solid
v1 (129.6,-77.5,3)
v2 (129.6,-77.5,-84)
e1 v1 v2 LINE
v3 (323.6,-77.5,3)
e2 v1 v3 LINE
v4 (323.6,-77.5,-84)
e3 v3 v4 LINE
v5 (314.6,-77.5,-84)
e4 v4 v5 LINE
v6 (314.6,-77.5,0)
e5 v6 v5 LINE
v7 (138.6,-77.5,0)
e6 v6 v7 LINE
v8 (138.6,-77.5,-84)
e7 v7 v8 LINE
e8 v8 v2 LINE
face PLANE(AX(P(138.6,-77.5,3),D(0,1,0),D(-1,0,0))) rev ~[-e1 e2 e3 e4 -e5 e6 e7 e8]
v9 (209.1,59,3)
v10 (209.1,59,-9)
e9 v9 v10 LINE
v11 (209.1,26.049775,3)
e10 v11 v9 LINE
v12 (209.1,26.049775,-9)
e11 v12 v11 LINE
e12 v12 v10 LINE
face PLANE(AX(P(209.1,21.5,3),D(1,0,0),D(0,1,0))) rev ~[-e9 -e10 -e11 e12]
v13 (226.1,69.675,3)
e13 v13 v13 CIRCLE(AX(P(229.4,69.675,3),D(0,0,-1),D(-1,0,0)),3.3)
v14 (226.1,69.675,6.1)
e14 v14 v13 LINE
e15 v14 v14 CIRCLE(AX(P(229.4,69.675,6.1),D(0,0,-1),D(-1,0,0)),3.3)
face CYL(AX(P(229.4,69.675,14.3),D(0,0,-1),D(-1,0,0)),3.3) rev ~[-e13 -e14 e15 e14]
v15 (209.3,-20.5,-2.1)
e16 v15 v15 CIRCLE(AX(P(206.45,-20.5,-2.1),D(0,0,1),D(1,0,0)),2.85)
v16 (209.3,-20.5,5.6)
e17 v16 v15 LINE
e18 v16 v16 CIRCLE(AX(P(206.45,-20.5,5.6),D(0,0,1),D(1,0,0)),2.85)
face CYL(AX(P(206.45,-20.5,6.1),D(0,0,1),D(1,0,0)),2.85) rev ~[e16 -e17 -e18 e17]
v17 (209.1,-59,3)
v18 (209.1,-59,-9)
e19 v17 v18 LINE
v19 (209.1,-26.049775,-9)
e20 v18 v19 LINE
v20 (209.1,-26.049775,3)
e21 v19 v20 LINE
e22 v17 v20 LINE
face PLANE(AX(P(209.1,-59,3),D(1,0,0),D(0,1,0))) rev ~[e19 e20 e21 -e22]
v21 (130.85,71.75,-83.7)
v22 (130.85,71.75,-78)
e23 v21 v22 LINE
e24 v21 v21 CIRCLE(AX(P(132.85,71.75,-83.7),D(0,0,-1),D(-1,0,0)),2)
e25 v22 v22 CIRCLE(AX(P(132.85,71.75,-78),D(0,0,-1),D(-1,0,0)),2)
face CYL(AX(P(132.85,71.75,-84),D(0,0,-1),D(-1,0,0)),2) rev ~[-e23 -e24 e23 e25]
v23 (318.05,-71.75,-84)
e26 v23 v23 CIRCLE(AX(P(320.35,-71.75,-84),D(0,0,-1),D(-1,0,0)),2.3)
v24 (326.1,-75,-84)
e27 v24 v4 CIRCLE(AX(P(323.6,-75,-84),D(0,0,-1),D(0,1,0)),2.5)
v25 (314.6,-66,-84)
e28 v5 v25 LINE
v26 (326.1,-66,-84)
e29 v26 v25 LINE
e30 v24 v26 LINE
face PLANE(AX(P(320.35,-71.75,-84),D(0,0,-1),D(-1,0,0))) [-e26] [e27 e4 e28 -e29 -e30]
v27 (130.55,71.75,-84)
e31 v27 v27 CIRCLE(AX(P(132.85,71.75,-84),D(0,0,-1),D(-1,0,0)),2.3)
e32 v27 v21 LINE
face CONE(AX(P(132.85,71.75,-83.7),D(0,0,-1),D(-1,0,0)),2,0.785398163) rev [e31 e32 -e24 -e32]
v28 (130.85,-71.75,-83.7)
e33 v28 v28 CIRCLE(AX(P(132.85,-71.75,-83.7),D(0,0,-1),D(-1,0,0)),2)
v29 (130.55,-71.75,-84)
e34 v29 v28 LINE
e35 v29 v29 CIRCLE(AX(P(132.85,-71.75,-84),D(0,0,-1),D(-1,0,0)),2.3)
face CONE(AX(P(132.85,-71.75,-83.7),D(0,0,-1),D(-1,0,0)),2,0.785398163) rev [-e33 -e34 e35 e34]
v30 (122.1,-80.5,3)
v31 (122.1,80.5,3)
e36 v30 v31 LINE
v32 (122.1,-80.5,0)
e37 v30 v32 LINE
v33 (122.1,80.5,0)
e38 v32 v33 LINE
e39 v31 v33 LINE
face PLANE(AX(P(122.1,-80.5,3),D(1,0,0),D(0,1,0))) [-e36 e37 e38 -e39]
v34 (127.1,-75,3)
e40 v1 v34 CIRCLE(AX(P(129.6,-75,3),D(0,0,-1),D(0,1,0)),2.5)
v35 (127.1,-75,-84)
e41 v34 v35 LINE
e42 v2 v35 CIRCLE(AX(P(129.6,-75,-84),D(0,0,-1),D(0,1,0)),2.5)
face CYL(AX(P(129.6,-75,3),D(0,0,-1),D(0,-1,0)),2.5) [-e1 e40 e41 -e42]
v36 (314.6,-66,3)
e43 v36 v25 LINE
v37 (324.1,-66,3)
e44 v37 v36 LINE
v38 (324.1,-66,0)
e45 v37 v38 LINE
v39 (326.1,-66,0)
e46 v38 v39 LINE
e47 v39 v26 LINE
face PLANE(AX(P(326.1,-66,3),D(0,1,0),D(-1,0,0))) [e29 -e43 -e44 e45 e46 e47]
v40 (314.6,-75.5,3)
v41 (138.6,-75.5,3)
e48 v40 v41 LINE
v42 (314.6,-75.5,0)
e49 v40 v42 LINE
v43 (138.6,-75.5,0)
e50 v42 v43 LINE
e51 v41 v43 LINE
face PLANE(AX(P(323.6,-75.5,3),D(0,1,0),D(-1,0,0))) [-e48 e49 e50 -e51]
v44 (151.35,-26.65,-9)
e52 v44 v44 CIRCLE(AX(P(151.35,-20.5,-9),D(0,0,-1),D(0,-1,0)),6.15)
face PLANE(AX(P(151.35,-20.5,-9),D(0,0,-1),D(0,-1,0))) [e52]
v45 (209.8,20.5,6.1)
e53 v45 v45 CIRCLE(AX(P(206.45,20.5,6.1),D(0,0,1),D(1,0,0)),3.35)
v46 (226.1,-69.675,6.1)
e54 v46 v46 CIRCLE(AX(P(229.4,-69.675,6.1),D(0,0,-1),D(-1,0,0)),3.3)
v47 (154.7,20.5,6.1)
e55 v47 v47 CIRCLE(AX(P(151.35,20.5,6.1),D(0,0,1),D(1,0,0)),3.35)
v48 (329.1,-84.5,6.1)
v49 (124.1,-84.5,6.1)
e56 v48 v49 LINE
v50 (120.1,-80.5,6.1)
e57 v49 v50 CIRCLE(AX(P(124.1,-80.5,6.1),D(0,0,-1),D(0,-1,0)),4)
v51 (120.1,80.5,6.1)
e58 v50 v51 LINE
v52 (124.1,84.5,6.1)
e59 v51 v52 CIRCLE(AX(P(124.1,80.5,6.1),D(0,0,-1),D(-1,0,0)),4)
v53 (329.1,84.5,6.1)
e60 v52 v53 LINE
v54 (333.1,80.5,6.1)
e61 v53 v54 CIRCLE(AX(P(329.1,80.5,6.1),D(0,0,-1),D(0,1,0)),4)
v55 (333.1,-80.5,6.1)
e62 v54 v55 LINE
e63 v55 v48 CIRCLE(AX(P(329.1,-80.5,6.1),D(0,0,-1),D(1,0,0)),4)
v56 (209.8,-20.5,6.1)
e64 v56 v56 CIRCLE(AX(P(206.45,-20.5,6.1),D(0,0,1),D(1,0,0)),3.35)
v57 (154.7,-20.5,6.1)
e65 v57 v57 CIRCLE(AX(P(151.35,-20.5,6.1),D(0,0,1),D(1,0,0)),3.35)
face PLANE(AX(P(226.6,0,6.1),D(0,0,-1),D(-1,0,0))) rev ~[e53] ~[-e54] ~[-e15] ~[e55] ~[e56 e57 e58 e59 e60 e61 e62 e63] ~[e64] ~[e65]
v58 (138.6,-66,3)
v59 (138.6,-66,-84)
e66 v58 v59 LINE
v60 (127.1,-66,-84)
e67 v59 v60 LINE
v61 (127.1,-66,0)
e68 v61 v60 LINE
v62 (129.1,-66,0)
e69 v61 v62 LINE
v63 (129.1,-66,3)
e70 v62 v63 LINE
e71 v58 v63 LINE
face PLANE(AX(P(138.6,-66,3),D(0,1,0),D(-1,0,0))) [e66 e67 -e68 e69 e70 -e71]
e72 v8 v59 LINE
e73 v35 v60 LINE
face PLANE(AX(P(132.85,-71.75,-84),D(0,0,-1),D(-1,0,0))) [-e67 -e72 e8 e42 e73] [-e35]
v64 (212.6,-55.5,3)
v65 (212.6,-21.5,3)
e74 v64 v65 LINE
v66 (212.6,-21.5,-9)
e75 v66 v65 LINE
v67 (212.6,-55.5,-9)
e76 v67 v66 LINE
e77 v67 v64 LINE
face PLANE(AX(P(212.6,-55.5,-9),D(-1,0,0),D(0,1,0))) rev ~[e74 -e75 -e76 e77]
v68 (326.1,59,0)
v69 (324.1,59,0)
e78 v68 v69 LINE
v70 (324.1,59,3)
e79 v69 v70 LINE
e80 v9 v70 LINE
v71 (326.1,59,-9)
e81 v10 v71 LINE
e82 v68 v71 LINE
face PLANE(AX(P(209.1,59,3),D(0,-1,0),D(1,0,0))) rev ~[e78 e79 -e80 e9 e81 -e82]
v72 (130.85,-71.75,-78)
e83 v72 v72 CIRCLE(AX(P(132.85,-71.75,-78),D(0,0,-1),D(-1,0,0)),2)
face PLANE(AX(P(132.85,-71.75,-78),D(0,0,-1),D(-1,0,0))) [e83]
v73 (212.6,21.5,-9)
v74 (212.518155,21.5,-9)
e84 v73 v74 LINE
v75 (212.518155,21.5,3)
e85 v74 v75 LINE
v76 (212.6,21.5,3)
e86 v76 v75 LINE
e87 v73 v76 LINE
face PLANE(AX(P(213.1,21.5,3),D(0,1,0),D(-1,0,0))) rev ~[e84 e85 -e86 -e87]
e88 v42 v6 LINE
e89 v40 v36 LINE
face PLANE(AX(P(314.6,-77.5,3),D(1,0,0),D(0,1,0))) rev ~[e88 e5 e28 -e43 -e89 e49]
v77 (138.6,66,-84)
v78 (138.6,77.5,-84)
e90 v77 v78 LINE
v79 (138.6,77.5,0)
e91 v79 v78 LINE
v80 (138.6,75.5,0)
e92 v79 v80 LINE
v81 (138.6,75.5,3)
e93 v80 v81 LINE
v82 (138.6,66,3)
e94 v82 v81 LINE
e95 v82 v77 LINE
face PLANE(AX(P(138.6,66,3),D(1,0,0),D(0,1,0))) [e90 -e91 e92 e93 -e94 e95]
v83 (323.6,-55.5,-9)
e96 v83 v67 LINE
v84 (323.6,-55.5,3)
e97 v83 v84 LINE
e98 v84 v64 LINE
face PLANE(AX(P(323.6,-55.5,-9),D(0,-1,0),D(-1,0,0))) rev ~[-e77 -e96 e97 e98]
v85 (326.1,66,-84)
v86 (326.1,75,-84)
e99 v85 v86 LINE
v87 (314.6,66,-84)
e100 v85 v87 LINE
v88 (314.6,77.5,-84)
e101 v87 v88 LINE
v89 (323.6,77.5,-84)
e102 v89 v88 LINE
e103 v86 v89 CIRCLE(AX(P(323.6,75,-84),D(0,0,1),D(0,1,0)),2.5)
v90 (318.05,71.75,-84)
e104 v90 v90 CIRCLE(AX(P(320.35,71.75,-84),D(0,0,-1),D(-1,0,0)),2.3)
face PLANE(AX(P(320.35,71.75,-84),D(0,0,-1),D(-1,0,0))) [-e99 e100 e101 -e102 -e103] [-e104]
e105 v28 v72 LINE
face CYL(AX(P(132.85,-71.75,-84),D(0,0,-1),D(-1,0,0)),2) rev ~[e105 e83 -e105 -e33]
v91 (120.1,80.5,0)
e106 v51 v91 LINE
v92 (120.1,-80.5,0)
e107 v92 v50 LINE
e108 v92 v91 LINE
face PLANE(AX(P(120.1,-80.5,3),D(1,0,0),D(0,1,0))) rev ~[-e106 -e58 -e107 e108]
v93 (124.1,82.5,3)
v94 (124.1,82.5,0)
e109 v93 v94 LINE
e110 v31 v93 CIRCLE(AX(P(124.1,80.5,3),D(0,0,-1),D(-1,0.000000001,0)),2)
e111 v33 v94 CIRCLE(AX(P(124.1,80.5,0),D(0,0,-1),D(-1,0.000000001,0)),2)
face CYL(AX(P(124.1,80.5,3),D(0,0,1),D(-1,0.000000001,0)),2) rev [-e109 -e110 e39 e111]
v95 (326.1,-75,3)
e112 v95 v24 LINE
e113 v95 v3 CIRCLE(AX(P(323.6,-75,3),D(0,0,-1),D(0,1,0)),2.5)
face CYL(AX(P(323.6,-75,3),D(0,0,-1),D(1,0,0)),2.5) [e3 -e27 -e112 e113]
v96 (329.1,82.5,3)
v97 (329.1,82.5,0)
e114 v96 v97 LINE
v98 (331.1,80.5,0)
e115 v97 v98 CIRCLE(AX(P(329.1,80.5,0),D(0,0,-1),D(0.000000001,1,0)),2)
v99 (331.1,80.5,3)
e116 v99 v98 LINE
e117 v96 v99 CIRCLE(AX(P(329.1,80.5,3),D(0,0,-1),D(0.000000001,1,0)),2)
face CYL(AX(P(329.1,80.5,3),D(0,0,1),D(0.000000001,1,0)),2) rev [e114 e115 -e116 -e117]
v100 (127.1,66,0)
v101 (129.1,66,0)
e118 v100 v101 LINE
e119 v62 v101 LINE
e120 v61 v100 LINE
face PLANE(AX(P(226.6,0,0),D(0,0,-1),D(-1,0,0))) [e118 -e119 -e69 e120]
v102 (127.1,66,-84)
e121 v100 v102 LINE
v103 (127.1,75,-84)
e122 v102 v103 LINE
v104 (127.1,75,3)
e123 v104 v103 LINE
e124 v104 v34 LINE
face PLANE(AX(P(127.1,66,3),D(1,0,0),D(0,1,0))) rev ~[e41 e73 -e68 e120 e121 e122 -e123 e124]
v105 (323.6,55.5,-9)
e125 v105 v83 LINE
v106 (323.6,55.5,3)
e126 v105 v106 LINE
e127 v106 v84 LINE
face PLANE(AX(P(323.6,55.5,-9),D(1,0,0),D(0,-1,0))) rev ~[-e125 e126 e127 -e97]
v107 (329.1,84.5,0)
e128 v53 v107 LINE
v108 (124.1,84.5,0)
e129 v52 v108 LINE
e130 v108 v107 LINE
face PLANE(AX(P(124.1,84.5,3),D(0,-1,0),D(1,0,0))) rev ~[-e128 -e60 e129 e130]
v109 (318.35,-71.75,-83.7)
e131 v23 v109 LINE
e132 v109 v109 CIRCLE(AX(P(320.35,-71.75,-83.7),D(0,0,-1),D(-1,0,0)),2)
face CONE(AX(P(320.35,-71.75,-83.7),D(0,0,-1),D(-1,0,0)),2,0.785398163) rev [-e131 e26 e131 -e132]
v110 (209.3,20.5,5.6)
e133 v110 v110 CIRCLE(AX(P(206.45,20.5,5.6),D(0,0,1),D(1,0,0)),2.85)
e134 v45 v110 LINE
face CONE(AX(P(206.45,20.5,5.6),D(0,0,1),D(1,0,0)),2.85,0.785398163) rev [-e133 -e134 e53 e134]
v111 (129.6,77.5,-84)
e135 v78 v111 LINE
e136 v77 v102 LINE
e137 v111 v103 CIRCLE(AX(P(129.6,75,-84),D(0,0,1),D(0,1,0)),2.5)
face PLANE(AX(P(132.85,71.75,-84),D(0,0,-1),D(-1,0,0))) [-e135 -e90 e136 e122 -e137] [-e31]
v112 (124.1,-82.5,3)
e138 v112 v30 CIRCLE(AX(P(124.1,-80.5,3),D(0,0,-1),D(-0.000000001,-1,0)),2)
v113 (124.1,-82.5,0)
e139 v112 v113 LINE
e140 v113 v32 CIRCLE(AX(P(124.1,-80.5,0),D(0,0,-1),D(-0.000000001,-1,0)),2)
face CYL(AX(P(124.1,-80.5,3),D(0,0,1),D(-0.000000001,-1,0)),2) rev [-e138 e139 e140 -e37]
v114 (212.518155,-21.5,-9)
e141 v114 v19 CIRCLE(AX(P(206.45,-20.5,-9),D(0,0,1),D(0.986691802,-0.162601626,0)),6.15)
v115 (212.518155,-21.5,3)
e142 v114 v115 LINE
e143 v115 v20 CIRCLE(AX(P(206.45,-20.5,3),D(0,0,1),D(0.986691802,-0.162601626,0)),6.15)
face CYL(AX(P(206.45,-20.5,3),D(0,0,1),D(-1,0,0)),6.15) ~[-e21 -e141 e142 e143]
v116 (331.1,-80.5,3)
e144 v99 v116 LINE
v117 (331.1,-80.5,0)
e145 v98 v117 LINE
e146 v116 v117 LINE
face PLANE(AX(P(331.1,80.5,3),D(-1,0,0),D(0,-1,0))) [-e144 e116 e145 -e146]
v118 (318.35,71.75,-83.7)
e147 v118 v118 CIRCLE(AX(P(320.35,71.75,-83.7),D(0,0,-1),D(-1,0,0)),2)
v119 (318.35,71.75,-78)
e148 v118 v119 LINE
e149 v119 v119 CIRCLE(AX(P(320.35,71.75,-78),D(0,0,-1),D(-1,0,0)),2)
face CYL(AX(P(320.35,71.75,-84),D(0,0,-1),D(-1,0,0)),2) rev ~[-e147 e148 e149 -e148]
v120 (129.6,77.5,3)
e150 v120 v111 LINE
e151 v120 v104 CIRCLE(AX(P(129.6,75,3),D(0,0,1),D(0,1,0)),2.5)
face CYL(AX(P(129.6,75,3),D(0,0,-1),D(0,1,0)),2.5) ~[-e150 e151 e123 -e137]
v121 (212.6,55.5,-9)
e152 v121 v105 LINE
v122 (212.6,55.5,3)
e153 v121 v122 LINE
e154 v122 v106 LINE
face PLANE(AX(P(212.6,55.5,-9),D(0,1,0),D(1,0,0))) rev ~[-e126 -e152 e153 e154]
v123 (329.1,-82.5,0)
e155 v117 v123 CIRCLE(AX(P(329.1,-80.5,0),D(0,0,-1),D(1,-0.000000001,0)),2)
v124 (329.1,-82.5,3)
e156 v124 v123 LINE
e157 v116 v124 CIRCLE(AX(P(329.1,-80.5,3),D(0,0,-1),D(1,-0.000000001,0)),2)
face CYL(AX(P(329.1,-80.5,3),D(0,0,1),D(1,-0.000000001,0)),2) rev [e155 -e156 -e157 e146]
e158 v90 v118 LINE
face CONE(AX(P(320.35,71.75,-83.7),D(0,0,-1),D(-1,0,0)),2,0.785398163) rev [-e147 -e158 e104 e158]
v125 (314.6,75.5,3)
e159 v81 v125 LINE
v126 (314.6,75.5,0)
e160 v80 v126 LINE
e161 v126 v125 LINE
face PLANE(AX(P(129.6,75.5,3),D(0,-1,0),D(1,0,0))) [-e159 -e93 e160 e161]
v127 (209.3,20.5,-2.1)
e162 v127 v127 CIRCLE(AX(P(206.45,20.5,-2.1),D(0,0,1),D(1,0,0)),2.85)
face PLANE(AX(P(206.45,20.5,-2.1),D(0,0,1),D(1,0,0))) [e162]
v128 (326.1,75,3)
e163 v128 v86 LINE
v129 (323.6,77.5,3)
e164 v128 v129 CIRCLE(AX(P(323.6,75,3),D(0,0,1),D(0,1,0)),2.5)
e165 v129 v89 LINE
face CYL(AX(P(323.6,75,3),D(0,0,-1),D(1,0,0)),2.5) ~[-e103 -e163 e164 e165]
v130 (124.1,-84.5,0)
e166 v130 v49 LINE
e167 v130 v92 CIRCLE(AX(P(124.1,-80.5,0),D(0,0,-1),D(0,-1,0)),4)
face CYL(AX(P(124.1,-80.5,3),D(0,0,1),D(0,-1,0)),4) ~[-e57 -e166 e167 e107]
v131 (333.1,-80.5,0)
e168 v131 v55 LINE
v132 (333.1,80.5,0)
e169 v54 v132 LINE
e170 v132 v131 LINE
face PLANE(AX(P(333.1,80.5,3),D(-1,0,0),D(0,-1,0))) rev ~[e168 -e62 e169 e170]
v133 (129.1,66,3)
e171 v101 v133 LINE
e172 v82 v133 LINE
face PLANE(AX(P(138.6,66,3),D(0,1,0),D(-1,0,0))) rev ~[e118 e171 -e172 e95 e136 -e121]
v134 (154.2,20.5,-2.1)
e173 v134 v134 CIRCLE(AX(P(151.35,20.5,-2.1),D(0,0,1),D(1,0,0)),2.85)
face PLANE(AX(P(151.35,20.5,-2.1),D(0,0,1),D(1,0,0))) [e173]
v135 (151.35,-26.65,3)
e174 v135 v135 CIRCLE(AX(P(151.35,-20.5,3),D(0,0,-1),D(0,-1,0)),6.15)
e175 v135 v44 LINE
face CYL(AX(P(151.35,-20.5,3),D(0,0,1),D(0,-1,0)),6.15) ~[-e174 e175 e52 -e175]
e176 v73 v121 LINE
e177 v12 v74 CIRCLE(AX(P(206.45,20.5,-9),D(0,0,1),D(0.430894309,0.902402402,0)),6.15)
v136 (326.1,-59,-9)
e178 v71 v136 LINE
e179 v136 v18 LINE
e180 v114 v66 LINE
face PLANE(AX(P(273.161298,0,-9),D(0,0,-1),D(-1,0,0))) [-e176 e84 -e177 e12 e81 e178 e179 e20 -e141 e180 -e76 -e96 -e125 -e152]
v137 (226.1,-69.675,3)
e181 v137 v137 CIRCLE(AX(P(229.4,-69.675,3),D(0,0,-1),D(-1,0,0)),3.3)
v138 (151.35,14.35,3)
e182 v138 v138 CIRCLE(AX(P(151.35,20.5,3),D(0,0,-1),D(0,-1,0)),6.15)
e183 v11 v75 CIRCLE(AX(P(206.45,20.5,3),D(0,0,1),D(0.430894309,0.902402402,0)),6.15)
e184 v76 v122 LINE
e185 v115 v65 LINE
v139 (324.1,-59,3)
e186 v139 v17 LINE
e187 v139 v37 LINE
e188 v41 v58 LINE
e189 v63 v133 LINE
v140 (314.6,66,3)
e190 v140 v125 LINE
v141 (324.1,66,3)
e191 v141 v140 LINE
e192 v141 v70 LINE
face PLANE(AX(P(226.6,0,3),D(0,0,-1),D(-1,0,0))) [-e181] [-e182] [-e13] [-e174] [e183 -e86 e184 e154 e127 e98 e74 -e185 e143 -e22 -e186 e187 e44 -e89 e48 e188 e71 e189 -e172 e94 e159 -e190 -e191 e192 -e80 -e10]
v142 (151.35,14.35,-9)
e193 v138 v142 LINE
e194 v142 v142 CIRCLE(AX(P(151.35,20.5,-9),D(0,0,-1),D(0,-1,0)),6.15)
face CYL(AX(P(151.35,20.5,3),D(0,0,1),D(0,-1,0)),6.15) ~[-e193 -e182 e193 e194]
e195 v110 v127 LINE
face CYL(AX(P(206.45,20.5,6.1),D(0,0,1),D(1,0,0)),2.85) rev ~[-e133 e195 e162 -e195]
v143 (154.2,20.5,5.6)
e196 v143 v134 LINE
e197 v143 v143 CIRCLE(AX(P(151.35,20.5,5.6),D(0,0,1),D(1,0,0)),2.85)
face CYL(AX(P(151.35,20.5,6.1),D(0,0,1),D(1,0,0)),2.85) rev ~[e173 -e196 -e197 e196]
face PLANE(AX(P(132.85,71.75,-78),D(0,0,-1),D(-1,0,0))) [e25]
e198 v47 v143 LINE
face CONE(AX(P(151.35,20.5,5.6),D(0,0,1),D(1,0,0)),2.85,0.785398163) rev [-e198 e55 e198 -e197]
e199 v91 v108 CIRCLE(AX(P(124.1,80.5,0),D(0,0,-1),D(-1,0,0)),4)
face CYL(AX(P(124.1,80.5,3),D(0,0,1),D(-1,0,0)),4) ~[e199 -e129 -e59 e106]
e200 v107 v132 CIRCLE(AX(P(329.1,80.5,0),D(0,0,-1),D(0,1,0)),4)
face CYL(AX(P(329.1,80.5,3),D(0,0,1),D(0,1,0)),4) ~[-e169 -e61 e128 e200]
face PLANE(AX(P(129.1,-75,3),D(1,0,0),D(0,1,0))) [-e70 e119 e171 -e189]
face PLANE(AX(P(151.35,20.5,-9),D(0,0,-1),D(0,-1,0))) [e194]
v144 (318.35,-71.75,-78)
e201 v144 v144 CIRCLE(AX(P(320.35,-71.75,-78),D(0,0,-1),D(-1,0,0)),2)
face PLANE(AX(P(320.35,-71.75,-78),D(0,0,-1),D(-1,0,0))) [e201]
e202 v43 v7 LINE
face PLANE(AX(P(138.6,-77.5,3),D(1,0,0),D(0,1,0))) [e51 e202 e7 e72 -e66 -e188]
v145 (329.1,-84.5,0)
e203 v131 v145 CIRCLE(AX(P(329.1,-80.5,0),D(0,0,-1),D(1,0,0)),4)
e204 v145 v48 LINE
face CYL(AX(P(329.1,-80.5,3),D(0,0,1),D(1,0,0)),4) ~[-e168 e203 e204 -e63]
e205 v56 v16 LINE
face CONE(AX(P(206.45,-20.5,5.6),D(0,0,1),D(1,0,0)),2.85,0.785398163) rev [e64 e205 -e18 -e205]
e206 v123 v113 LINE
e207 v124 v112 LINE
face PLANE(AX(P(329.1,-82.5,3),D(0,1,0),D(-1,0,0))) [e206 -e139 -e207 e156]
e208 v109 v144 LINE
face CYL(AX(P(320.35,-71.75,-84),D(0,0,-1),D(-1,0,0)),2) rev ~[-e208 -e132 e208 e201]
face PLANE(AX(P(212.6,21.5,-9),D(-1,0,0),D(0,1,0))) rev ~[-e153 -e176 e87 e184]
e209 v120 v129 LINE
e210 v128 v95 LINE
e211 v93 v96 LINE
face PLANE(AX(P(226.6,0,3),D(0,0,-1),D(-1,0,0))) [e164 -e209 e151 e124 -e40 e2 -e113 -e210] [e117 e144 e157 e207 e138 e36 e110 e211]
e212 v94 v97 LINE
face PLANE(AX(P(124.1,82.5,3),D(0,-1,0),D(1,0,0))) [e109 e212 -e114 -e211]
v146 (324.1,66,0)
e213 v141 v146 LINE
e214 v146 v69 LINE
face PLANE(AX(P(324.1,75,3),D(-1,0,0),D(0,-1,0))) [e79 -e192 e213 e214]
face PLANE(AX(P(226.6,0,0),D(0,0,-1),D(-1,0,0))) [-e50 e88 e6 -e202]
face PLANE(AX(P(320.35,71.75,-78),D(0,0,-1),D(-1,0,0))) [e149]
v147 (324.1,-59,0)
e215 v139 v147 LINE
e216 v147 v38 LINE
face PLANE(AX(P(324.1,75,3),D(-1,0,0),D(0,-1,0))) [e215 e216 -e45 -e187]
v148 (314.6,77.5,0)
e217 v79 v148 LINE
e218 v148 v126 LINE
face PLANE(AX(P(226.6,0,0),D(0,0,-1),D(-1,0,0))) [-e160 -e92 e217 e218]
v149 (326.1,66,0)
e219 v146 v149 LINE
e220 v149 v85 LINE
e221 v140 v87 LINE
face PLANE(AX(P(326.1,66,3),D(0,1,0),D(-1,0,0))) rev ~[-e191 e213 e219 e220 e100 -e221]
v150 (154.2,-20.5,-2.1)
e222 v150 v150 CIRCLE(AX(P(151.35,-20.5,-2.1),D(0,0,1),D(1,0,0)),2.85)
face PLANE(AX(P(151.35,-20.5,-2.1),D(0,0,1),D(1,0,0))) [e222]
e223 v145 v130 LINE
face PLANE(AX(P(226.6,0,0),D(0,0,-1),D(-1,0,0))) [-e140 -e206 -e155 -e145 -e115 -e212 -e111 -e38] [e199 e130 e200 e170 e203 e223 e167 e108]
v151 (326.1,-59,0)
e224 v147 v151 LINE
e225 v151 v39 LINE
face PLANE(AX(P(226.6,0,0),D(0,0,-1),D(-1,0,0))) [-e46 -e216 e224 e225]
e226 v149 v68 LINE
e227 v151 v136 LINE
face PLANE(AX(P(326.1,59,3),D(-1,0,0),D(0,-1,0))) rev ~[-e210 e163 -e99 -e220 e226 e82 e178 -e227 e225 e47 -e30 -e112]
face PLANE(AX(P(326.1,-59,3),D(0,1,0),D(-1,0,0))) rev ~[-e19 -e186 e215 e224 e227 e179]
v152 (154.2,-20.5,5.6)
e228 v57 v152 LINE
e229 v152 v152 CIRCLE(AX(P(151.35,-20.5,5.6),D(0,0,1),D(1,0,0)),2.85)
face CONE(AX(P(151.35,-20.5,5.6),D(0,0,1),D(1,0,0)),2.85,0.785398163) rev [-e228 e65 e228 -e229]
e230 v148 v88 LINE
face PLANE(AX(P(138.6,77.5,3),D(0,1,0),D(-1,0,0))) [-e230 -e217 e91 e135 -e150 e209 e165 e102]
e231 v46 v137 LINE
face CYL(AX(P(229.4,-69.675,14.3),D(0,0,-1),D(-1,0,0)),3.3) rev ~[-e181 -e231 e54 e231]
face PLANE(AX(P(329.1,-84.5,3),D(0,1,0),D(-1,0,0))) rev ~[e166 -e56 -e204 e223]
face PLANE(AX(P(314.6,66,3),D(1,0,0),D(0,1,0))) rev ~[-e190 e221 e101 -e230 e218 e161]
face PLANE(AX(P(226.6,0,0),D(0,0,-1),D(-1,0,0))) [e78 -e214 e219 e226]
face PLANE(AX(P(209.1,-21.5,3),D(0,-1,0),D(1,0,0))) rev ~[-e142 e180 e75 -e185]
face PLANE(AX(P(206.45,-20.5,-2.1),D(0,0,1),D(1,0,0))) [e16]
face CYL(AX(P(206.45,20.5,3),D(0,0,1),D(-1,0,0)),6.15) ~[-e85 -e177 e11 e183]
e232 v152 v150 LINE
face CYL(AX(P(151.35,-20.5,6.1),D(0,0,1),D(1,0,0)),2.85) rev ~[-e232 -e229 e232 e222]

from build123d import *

# Parameters (mm, degrees)
SALIENTE_EXTRUIR1_DEPTH          = 3.1
SALIENTE_EXTRUIR2_DEPTH          = 3
SALIENTE_EXTRUIR3_DEPTH          = 3
TALADRO_DE_MARGEN_PARA_M41_D     = 4.5
TALADRO_DE_MARGEN_PARA_M41_DEPTH = 8.2
TALADRO_DE_MARGEN_PARA_M41_TIP   = 1.351936393
CROQUIS10_W                      = 11.5
CROQUIS10_H                      = 11.5
SALIENTE_EXTRUIR4_DEPTH          = 87
SALIENTE_EXTRUIR5_DEPTH          = 12
CROQUIS14_R                      = 2
CORTAR_EXTRUIR1_DEPTH            = 6
CHAFL_N1_SIZE                    = 0.3
TALADRO_DE_MARGEN_PARA_M61_D     = 6.6
TALADRO_DE_MARGEN_PARA_M61_DEPTH = 8.2
TALADRO_DE_MARGEN_PARA_M61_TIP   = 1.982840043
CORTAR_EXTRUIR3_DEPTH            = 12
REDONDEO1_R                      = 2.5
CROQUIS19_R                      = 6.15
SALIENTE_EXTRUIR6_DEPTH          = 12
CROQUIS20_R                      = 2.85
CORTAR_EXTRUIR4_DEPTH            = 8.2
CHAFL_N2_SIZE                    = 0.5


with BuildPart() as part:
    # Croquis4 → Saliente-Extruir1 (new body)
    with BuildSketch(Plane(origin=(0, 0, 6.1), x_dir=(-1, 0, 0), z_dir=(0, 0, -1))):
        with BuildLine():
            Line((-120.1, -80.5), (-120.1, 80.5))
            ThreePointArc((-120.1, 80.5), (-121.271572875, 83.328427125), (-124.1, 84.5))
            Line((-124.1, 84.5), (-329.1, 84.5))
            ThreePointArc((-329.1, 84.5), (-331.928427125, 83.328427125), (-333.1, 80.5))
            Line((-333.1, 80.5), (-333.1, -80.5))
            ThreePointArc((-333.1, -80.5), (-331.928427125, -83.328427125), (-329.1, -84.5))
            Line((-329.1, -84.5), (-124.1, -84.5))
            ThreePointArc((-124.1, -84.5), (-121.271572875, -83.328427125), (-120.1, -80.5))
        make_face()
    extrude(amount=SALIENTE_EXTRUIR1_DEPTH)



with BuildPart() as body_2:
    # Croquis5 → Saliente-Extruir2 (new body)
    with BuildSketch(Plane(origin=(0, 0, 3), x_dir=(-1, 0, 0), z_dir=(0, 0, -1))):
        with BuildLine():
            Line((-326.1, 59), (-326.1, -59))
            Line((-326.1, -59), (-326.1, -75))
            ThreePointArc((-326.1, -75), (-325.367766953, -76.767766953), (-323.6, -77.5))
            Line((-323.6, -77.5), (-129.6, -77.5))
            ThreePointArc((-129.6, -77.5), (-127.832233047, -76.767766953), (-127.1, -75))
            Line((-127.1, -75), (-127.1, 75))
            ThreePointArc((-127.1, 75), (-127.832233047, 76.767766953), (-129.6, 77.5))
            Line((-129.6, 77.5), (-323.6, 77.5))
            ThreePointArc((-323.6, 77.5), (-325.367766953, 76.767766953), (-326.1, 75))
            Line((-326.1, 75), (-326.1, 59))
        make_face()
        with BuildLine():
            Line((-324.1, 59), (-324.1, -59))
            Line((-324.1, -59), (-324.1, -75))
            ThreePointArc((-324.1, -75), (-323.953553391, -75.353553391), (-323.6, -75.5))
            Line((-323.6, -75.5), (-129.6, -75.5))
            ThreePointArc((-129.6, -75.5), (-129.246446609, -75.353553391), (-129.1, -75))
            Line((-129.1, -75), (-129.1, 75))
            ThreePointArc((-129.1, 75), (-129.246446609, 75.353553391), (-129.6, 75.5))
            Line((-129.6, 75.5), (-323.6, 75.5))
            ThreePointArc((-323.6, 75.5), (-323.953553391, 75.353553391), (-324.1, 75))
            Line((-324.1, 75), (-324.1, 59))
        make_face(mode=Mode.SUBTRACT)
    extrude(amount=SALIENTE_EXTRUIR2_DEPTH)


with BuildPart() as part_1:
    add(part.part)

    add(body_2.part)  # Saliente-Extruir3 merges body 2
    # Croquis6 → Saliente-Extruir3 (add)
    with BuildSketch(Plane(origin=(0, 0, 3), x_dir=(-1, 0, 0), z_dir=(0, 0, -1))):
        with BuildLine():
            Line((-120.1, -80.5), (-120.1, 80.5))
            ThreePointArc((-120.1, 80.5), (-121.271572875, 83.328427125), (-124.1, 84.5))
            Line((-124.1, 84.5), (-329.1, 84.5))
            ThreePointArc((-329.1, 84.5), (-331.928427125, 83.328427125), (-333.1, 80.5))
            Line((-333.1, 80.5), (-333.1, -80.5))
            ThreePointArc((-333.1, -80.5), (-331.928427125, -83.328427125), (-329.1, -84.5))
            Line((-329.1, -84.5), (-124.1, -84.5))
            ThreePointArc((-124.1, -84.5), (-121.271572875, -83.328427125), (-120.1, -80.5))
        make_face()
        with BuildLine():
            Line((-122.1, -80.5), (-122.1, 80.5))
            ThreePointArc((-122.1, 80.5), (-122.685786438, 81.914213562), (-124.1, 82.5))
            Line((-124.1, 82.5), (-329.1, 82.5))
            ThreePointArc((-329.1, 82.5), (-330.514213562, 81.914213562), (-331.1, 80.5))
            Line((-331.1, 80.5), (-331.1, -80.5))
            ThreePointArc((-331.1, -80.5), (-330.514213562, -81.914213562), (-329.1, -82.5))
            Line((-329.1, -82.5), (-124.1, -82.5))
            ThreePointArc((-124.1, -82.5), (-122.685786438, -81.914213562), (-122.1, -80.5))
        make_face(mode=Mode.SUBTRACT)
    extrude(amount=SALIENTE_EXTRUIR3_DEPTH)

    # Taladro de margen para M41
    with Locations(Plane.XY.offset(6.1)):
        with Locations((151.35, 20.5), (206.45, 20.5), (206.45, -20.5), (151.35, -20.5)):
            Hole(TALADRO_DE_MARGEN_PARA_M41_D / 2, depth=TALADRO_DE_MARGEN_PARA_M41_DEPTH)
            with Locations((0, 0, -(TALADRO_DE_MARGEN_PARA_M41_DEPTH + TALADRO_DE_MARGEN_PARA_M41_TIP / 2))):  # 118° drill point
                Cone(0, TALADRO_DE_MARGEN_PARA_M41_D / 2, TALADRO_DE_MARGEN_PARA_M41_TIP, mode=Mode.SUBTRACT)

    # Croquis10 → Saliente-Extruir4 (add)
    with BuildSketch(Plane(origin=(0, 0, 3), x_dir=(-1, 0, 0), z_dir=(0, 0, -1))):
        with Locations((-132.85, 71.75)):
            Rectangle(CROQUIS10_W, CROQUIS10_H)
        with Locations((-132.85, -71.75)):
            Rectangle(CROQUIS10_W, CROQUIS10_H)
        with Locations((-320.35, -71.75)):
            Rectangle(CROQUIS10_W, CROQUIS10_H)
        with Locations((-320.35, 71.75)):
            Rectangle(CROQUIS10_W, CROQUIS10_H)
    extrude(amount=SALIENTE_EXTRUIR4_DEPTH)

    # Croquis13 → Saliente-Extruir5 (add)
    with BuildSketch(Plane(origin=(0, 0, 3), x_dir=(-1, 0, 0), z_dir=(0, 0, -1))):
        Polygon((-213.1, -55), (-323.1, -55), (-323.1, 55), (-213.1, 55), (-213.1, 21.5), (-209.1, 21.5), (-209.1, 59), (-326.1, 59), (-326.1, -59), (-209.1, -59), (-209.1, -21.5), (-213.1, -21.5), align=None)
    extrude(amount=SALIENTE_EXTRUIR5_DEPTH)

    # Croquis14 → Cortar-Extruir1 (cut)
    with BuildSketch(Plane(origin=(0, 0, -84), x_dir=(-1, 0, 0), z_dir=(0, 0, -1))):
        with Locations((-132.85, -71.75)):
            Circle(CROQUIS14_R)
        with Locations((-132.85, 71.75)):
            Circle(CROQUIS14_R)
        with Locations((-320.35, 71.75)):
            Circle(CROQUIS14_R)
        with Locations((-320.35, -71.75)):
            Circle(CROQUIS14_R)
    extrude(amount=-CORTAR_EXTRUIR1_DEPTH, mode=Mode.SUBTRACT)

    # Chaflán1
    chafl_n1_edges = [part_1.edges().sort_by_distance(p)[0] for p in [
        (322.35, -71.75, -84),
        (322.35, 71.75, -84),
        (134.85, 71.75, -84),
        (134.85, -71.75, -84),
    ]]
    chamfer(chafl_n1_edges, length=CHAFL_N1_SIZE)

    # Taladro de margen para M61
    with Locations(Plane.XY.offset(6.1)):
        with Locations((229.4, 69.675), (229.4, -69.675)):
            Hole(TALADRO_DE_MARGEN_PARA_M61_D / 2, depth=TALADRO_DE_MARGEN_PARA_M61_DEPTH)
            with Locations((0, 0, -(TALADRO_DE_MARGEN_PARA_M61_DEPTH + TALADRO_DE_MARGEN_PARA_M61_TIP / 2))):  # 118° drill point
                Cone(0, TALADRO_DE_MARGEN_PARA_M61_D / 2, TALADRO_DE_MARGEN_PARA_M61_TIP, mode=Mode.SUBTRACT)

    # Croquis18 → Cortar-Extruir3 (cut)
    with BuildSketch(Plane(origin=(0, 0, -9), x_dir=(-1, 0, 0), z_dir=(0, 0, -1))):
        Polygon((-212.6, 21.5), (-212.6, 55.5), (-323.6, 55.5), (-323.6, -55.5), (-212.6, -55.5), (-212.6, -21.5), (-213.1, -21.5), (-213.1, -55), (-323.1, -55), (-323.1, 55), (-213.1, 55), (-213.1, 21.5), align=None)
    extrude(amount=-CORTAR_EXTRUIR3_DEPTH, mode=Mode.SUBTRACT)

    # Redondeo1
    redondeo1_edges = [part_1.edges().sort_by_distance(p)[0] for p in [
        (127.1, 77.5, -40.5),
        (127.1, -77.5, -40.5),
        (326.1, -77.5, -40.5),
        (326.1, 77.5, -40.5),
    ]]
    fillet(redondeo1_edges, radius=REDONDEO1_R)

    # Croquis19 → Saliente-Extruir6 (add)
    with BuildSketch(Plane(origin=(0, 0, 3), x_dir=(-1, 0, 0), z_dir=(0, 0, -1))):
        with Locations(Location((-151.35, -20.5, 0), (0, 0, 270))):
            Circle(CROQUIS19_R)
        with Locations(Location((-151.35, 20.5, 0), (0, 0, 270))):
            Circle(CROQUIS19_R)
        with Locations((-206.45, 20.5)):
            Circle(CROQUIS19_R)
        with Locations((-206.45, -20.5)):
            Circle(CROQUIS19_R)
    extrude(amount=SALIENTE_EXTRUIR6_DEPTH)

    # Croquis20 → Cortar-Extruir4 (cut)
    with BuildSketch(Plane.XY.offset(6.1)):
        with Locations((151.35, -20.5)):
            Circle(CROQUIS20_R)
        with Locations((206.45, -20.5)):
            Circle(CROQUIS20_R)
        with Locations((206.45, 20.5)):
            Circle(CROQUIS20_R)
        with Locations((151.35, 20.5)):
            Circle(CROQUIS20_R)
    extrude(amount=-CORTAR_EXTRUIR4_DEPTH, mode=Mode.SUBTRACT)

    # Chaflán2
    chafl_n2_edges = [part_1.edges().sort_by_distance(p)[0] for p in [
        (148.5, 20.5, 6.1),
        (203.6, 20.5, 6.1),
        (203.6, -20.5, 6.1),
        (148.5, -20.5, 6.1),
    ]]
    chamfer(chafl_n2_edges, length=CHAFL_N2_SIZE)


solid = part_1.part
